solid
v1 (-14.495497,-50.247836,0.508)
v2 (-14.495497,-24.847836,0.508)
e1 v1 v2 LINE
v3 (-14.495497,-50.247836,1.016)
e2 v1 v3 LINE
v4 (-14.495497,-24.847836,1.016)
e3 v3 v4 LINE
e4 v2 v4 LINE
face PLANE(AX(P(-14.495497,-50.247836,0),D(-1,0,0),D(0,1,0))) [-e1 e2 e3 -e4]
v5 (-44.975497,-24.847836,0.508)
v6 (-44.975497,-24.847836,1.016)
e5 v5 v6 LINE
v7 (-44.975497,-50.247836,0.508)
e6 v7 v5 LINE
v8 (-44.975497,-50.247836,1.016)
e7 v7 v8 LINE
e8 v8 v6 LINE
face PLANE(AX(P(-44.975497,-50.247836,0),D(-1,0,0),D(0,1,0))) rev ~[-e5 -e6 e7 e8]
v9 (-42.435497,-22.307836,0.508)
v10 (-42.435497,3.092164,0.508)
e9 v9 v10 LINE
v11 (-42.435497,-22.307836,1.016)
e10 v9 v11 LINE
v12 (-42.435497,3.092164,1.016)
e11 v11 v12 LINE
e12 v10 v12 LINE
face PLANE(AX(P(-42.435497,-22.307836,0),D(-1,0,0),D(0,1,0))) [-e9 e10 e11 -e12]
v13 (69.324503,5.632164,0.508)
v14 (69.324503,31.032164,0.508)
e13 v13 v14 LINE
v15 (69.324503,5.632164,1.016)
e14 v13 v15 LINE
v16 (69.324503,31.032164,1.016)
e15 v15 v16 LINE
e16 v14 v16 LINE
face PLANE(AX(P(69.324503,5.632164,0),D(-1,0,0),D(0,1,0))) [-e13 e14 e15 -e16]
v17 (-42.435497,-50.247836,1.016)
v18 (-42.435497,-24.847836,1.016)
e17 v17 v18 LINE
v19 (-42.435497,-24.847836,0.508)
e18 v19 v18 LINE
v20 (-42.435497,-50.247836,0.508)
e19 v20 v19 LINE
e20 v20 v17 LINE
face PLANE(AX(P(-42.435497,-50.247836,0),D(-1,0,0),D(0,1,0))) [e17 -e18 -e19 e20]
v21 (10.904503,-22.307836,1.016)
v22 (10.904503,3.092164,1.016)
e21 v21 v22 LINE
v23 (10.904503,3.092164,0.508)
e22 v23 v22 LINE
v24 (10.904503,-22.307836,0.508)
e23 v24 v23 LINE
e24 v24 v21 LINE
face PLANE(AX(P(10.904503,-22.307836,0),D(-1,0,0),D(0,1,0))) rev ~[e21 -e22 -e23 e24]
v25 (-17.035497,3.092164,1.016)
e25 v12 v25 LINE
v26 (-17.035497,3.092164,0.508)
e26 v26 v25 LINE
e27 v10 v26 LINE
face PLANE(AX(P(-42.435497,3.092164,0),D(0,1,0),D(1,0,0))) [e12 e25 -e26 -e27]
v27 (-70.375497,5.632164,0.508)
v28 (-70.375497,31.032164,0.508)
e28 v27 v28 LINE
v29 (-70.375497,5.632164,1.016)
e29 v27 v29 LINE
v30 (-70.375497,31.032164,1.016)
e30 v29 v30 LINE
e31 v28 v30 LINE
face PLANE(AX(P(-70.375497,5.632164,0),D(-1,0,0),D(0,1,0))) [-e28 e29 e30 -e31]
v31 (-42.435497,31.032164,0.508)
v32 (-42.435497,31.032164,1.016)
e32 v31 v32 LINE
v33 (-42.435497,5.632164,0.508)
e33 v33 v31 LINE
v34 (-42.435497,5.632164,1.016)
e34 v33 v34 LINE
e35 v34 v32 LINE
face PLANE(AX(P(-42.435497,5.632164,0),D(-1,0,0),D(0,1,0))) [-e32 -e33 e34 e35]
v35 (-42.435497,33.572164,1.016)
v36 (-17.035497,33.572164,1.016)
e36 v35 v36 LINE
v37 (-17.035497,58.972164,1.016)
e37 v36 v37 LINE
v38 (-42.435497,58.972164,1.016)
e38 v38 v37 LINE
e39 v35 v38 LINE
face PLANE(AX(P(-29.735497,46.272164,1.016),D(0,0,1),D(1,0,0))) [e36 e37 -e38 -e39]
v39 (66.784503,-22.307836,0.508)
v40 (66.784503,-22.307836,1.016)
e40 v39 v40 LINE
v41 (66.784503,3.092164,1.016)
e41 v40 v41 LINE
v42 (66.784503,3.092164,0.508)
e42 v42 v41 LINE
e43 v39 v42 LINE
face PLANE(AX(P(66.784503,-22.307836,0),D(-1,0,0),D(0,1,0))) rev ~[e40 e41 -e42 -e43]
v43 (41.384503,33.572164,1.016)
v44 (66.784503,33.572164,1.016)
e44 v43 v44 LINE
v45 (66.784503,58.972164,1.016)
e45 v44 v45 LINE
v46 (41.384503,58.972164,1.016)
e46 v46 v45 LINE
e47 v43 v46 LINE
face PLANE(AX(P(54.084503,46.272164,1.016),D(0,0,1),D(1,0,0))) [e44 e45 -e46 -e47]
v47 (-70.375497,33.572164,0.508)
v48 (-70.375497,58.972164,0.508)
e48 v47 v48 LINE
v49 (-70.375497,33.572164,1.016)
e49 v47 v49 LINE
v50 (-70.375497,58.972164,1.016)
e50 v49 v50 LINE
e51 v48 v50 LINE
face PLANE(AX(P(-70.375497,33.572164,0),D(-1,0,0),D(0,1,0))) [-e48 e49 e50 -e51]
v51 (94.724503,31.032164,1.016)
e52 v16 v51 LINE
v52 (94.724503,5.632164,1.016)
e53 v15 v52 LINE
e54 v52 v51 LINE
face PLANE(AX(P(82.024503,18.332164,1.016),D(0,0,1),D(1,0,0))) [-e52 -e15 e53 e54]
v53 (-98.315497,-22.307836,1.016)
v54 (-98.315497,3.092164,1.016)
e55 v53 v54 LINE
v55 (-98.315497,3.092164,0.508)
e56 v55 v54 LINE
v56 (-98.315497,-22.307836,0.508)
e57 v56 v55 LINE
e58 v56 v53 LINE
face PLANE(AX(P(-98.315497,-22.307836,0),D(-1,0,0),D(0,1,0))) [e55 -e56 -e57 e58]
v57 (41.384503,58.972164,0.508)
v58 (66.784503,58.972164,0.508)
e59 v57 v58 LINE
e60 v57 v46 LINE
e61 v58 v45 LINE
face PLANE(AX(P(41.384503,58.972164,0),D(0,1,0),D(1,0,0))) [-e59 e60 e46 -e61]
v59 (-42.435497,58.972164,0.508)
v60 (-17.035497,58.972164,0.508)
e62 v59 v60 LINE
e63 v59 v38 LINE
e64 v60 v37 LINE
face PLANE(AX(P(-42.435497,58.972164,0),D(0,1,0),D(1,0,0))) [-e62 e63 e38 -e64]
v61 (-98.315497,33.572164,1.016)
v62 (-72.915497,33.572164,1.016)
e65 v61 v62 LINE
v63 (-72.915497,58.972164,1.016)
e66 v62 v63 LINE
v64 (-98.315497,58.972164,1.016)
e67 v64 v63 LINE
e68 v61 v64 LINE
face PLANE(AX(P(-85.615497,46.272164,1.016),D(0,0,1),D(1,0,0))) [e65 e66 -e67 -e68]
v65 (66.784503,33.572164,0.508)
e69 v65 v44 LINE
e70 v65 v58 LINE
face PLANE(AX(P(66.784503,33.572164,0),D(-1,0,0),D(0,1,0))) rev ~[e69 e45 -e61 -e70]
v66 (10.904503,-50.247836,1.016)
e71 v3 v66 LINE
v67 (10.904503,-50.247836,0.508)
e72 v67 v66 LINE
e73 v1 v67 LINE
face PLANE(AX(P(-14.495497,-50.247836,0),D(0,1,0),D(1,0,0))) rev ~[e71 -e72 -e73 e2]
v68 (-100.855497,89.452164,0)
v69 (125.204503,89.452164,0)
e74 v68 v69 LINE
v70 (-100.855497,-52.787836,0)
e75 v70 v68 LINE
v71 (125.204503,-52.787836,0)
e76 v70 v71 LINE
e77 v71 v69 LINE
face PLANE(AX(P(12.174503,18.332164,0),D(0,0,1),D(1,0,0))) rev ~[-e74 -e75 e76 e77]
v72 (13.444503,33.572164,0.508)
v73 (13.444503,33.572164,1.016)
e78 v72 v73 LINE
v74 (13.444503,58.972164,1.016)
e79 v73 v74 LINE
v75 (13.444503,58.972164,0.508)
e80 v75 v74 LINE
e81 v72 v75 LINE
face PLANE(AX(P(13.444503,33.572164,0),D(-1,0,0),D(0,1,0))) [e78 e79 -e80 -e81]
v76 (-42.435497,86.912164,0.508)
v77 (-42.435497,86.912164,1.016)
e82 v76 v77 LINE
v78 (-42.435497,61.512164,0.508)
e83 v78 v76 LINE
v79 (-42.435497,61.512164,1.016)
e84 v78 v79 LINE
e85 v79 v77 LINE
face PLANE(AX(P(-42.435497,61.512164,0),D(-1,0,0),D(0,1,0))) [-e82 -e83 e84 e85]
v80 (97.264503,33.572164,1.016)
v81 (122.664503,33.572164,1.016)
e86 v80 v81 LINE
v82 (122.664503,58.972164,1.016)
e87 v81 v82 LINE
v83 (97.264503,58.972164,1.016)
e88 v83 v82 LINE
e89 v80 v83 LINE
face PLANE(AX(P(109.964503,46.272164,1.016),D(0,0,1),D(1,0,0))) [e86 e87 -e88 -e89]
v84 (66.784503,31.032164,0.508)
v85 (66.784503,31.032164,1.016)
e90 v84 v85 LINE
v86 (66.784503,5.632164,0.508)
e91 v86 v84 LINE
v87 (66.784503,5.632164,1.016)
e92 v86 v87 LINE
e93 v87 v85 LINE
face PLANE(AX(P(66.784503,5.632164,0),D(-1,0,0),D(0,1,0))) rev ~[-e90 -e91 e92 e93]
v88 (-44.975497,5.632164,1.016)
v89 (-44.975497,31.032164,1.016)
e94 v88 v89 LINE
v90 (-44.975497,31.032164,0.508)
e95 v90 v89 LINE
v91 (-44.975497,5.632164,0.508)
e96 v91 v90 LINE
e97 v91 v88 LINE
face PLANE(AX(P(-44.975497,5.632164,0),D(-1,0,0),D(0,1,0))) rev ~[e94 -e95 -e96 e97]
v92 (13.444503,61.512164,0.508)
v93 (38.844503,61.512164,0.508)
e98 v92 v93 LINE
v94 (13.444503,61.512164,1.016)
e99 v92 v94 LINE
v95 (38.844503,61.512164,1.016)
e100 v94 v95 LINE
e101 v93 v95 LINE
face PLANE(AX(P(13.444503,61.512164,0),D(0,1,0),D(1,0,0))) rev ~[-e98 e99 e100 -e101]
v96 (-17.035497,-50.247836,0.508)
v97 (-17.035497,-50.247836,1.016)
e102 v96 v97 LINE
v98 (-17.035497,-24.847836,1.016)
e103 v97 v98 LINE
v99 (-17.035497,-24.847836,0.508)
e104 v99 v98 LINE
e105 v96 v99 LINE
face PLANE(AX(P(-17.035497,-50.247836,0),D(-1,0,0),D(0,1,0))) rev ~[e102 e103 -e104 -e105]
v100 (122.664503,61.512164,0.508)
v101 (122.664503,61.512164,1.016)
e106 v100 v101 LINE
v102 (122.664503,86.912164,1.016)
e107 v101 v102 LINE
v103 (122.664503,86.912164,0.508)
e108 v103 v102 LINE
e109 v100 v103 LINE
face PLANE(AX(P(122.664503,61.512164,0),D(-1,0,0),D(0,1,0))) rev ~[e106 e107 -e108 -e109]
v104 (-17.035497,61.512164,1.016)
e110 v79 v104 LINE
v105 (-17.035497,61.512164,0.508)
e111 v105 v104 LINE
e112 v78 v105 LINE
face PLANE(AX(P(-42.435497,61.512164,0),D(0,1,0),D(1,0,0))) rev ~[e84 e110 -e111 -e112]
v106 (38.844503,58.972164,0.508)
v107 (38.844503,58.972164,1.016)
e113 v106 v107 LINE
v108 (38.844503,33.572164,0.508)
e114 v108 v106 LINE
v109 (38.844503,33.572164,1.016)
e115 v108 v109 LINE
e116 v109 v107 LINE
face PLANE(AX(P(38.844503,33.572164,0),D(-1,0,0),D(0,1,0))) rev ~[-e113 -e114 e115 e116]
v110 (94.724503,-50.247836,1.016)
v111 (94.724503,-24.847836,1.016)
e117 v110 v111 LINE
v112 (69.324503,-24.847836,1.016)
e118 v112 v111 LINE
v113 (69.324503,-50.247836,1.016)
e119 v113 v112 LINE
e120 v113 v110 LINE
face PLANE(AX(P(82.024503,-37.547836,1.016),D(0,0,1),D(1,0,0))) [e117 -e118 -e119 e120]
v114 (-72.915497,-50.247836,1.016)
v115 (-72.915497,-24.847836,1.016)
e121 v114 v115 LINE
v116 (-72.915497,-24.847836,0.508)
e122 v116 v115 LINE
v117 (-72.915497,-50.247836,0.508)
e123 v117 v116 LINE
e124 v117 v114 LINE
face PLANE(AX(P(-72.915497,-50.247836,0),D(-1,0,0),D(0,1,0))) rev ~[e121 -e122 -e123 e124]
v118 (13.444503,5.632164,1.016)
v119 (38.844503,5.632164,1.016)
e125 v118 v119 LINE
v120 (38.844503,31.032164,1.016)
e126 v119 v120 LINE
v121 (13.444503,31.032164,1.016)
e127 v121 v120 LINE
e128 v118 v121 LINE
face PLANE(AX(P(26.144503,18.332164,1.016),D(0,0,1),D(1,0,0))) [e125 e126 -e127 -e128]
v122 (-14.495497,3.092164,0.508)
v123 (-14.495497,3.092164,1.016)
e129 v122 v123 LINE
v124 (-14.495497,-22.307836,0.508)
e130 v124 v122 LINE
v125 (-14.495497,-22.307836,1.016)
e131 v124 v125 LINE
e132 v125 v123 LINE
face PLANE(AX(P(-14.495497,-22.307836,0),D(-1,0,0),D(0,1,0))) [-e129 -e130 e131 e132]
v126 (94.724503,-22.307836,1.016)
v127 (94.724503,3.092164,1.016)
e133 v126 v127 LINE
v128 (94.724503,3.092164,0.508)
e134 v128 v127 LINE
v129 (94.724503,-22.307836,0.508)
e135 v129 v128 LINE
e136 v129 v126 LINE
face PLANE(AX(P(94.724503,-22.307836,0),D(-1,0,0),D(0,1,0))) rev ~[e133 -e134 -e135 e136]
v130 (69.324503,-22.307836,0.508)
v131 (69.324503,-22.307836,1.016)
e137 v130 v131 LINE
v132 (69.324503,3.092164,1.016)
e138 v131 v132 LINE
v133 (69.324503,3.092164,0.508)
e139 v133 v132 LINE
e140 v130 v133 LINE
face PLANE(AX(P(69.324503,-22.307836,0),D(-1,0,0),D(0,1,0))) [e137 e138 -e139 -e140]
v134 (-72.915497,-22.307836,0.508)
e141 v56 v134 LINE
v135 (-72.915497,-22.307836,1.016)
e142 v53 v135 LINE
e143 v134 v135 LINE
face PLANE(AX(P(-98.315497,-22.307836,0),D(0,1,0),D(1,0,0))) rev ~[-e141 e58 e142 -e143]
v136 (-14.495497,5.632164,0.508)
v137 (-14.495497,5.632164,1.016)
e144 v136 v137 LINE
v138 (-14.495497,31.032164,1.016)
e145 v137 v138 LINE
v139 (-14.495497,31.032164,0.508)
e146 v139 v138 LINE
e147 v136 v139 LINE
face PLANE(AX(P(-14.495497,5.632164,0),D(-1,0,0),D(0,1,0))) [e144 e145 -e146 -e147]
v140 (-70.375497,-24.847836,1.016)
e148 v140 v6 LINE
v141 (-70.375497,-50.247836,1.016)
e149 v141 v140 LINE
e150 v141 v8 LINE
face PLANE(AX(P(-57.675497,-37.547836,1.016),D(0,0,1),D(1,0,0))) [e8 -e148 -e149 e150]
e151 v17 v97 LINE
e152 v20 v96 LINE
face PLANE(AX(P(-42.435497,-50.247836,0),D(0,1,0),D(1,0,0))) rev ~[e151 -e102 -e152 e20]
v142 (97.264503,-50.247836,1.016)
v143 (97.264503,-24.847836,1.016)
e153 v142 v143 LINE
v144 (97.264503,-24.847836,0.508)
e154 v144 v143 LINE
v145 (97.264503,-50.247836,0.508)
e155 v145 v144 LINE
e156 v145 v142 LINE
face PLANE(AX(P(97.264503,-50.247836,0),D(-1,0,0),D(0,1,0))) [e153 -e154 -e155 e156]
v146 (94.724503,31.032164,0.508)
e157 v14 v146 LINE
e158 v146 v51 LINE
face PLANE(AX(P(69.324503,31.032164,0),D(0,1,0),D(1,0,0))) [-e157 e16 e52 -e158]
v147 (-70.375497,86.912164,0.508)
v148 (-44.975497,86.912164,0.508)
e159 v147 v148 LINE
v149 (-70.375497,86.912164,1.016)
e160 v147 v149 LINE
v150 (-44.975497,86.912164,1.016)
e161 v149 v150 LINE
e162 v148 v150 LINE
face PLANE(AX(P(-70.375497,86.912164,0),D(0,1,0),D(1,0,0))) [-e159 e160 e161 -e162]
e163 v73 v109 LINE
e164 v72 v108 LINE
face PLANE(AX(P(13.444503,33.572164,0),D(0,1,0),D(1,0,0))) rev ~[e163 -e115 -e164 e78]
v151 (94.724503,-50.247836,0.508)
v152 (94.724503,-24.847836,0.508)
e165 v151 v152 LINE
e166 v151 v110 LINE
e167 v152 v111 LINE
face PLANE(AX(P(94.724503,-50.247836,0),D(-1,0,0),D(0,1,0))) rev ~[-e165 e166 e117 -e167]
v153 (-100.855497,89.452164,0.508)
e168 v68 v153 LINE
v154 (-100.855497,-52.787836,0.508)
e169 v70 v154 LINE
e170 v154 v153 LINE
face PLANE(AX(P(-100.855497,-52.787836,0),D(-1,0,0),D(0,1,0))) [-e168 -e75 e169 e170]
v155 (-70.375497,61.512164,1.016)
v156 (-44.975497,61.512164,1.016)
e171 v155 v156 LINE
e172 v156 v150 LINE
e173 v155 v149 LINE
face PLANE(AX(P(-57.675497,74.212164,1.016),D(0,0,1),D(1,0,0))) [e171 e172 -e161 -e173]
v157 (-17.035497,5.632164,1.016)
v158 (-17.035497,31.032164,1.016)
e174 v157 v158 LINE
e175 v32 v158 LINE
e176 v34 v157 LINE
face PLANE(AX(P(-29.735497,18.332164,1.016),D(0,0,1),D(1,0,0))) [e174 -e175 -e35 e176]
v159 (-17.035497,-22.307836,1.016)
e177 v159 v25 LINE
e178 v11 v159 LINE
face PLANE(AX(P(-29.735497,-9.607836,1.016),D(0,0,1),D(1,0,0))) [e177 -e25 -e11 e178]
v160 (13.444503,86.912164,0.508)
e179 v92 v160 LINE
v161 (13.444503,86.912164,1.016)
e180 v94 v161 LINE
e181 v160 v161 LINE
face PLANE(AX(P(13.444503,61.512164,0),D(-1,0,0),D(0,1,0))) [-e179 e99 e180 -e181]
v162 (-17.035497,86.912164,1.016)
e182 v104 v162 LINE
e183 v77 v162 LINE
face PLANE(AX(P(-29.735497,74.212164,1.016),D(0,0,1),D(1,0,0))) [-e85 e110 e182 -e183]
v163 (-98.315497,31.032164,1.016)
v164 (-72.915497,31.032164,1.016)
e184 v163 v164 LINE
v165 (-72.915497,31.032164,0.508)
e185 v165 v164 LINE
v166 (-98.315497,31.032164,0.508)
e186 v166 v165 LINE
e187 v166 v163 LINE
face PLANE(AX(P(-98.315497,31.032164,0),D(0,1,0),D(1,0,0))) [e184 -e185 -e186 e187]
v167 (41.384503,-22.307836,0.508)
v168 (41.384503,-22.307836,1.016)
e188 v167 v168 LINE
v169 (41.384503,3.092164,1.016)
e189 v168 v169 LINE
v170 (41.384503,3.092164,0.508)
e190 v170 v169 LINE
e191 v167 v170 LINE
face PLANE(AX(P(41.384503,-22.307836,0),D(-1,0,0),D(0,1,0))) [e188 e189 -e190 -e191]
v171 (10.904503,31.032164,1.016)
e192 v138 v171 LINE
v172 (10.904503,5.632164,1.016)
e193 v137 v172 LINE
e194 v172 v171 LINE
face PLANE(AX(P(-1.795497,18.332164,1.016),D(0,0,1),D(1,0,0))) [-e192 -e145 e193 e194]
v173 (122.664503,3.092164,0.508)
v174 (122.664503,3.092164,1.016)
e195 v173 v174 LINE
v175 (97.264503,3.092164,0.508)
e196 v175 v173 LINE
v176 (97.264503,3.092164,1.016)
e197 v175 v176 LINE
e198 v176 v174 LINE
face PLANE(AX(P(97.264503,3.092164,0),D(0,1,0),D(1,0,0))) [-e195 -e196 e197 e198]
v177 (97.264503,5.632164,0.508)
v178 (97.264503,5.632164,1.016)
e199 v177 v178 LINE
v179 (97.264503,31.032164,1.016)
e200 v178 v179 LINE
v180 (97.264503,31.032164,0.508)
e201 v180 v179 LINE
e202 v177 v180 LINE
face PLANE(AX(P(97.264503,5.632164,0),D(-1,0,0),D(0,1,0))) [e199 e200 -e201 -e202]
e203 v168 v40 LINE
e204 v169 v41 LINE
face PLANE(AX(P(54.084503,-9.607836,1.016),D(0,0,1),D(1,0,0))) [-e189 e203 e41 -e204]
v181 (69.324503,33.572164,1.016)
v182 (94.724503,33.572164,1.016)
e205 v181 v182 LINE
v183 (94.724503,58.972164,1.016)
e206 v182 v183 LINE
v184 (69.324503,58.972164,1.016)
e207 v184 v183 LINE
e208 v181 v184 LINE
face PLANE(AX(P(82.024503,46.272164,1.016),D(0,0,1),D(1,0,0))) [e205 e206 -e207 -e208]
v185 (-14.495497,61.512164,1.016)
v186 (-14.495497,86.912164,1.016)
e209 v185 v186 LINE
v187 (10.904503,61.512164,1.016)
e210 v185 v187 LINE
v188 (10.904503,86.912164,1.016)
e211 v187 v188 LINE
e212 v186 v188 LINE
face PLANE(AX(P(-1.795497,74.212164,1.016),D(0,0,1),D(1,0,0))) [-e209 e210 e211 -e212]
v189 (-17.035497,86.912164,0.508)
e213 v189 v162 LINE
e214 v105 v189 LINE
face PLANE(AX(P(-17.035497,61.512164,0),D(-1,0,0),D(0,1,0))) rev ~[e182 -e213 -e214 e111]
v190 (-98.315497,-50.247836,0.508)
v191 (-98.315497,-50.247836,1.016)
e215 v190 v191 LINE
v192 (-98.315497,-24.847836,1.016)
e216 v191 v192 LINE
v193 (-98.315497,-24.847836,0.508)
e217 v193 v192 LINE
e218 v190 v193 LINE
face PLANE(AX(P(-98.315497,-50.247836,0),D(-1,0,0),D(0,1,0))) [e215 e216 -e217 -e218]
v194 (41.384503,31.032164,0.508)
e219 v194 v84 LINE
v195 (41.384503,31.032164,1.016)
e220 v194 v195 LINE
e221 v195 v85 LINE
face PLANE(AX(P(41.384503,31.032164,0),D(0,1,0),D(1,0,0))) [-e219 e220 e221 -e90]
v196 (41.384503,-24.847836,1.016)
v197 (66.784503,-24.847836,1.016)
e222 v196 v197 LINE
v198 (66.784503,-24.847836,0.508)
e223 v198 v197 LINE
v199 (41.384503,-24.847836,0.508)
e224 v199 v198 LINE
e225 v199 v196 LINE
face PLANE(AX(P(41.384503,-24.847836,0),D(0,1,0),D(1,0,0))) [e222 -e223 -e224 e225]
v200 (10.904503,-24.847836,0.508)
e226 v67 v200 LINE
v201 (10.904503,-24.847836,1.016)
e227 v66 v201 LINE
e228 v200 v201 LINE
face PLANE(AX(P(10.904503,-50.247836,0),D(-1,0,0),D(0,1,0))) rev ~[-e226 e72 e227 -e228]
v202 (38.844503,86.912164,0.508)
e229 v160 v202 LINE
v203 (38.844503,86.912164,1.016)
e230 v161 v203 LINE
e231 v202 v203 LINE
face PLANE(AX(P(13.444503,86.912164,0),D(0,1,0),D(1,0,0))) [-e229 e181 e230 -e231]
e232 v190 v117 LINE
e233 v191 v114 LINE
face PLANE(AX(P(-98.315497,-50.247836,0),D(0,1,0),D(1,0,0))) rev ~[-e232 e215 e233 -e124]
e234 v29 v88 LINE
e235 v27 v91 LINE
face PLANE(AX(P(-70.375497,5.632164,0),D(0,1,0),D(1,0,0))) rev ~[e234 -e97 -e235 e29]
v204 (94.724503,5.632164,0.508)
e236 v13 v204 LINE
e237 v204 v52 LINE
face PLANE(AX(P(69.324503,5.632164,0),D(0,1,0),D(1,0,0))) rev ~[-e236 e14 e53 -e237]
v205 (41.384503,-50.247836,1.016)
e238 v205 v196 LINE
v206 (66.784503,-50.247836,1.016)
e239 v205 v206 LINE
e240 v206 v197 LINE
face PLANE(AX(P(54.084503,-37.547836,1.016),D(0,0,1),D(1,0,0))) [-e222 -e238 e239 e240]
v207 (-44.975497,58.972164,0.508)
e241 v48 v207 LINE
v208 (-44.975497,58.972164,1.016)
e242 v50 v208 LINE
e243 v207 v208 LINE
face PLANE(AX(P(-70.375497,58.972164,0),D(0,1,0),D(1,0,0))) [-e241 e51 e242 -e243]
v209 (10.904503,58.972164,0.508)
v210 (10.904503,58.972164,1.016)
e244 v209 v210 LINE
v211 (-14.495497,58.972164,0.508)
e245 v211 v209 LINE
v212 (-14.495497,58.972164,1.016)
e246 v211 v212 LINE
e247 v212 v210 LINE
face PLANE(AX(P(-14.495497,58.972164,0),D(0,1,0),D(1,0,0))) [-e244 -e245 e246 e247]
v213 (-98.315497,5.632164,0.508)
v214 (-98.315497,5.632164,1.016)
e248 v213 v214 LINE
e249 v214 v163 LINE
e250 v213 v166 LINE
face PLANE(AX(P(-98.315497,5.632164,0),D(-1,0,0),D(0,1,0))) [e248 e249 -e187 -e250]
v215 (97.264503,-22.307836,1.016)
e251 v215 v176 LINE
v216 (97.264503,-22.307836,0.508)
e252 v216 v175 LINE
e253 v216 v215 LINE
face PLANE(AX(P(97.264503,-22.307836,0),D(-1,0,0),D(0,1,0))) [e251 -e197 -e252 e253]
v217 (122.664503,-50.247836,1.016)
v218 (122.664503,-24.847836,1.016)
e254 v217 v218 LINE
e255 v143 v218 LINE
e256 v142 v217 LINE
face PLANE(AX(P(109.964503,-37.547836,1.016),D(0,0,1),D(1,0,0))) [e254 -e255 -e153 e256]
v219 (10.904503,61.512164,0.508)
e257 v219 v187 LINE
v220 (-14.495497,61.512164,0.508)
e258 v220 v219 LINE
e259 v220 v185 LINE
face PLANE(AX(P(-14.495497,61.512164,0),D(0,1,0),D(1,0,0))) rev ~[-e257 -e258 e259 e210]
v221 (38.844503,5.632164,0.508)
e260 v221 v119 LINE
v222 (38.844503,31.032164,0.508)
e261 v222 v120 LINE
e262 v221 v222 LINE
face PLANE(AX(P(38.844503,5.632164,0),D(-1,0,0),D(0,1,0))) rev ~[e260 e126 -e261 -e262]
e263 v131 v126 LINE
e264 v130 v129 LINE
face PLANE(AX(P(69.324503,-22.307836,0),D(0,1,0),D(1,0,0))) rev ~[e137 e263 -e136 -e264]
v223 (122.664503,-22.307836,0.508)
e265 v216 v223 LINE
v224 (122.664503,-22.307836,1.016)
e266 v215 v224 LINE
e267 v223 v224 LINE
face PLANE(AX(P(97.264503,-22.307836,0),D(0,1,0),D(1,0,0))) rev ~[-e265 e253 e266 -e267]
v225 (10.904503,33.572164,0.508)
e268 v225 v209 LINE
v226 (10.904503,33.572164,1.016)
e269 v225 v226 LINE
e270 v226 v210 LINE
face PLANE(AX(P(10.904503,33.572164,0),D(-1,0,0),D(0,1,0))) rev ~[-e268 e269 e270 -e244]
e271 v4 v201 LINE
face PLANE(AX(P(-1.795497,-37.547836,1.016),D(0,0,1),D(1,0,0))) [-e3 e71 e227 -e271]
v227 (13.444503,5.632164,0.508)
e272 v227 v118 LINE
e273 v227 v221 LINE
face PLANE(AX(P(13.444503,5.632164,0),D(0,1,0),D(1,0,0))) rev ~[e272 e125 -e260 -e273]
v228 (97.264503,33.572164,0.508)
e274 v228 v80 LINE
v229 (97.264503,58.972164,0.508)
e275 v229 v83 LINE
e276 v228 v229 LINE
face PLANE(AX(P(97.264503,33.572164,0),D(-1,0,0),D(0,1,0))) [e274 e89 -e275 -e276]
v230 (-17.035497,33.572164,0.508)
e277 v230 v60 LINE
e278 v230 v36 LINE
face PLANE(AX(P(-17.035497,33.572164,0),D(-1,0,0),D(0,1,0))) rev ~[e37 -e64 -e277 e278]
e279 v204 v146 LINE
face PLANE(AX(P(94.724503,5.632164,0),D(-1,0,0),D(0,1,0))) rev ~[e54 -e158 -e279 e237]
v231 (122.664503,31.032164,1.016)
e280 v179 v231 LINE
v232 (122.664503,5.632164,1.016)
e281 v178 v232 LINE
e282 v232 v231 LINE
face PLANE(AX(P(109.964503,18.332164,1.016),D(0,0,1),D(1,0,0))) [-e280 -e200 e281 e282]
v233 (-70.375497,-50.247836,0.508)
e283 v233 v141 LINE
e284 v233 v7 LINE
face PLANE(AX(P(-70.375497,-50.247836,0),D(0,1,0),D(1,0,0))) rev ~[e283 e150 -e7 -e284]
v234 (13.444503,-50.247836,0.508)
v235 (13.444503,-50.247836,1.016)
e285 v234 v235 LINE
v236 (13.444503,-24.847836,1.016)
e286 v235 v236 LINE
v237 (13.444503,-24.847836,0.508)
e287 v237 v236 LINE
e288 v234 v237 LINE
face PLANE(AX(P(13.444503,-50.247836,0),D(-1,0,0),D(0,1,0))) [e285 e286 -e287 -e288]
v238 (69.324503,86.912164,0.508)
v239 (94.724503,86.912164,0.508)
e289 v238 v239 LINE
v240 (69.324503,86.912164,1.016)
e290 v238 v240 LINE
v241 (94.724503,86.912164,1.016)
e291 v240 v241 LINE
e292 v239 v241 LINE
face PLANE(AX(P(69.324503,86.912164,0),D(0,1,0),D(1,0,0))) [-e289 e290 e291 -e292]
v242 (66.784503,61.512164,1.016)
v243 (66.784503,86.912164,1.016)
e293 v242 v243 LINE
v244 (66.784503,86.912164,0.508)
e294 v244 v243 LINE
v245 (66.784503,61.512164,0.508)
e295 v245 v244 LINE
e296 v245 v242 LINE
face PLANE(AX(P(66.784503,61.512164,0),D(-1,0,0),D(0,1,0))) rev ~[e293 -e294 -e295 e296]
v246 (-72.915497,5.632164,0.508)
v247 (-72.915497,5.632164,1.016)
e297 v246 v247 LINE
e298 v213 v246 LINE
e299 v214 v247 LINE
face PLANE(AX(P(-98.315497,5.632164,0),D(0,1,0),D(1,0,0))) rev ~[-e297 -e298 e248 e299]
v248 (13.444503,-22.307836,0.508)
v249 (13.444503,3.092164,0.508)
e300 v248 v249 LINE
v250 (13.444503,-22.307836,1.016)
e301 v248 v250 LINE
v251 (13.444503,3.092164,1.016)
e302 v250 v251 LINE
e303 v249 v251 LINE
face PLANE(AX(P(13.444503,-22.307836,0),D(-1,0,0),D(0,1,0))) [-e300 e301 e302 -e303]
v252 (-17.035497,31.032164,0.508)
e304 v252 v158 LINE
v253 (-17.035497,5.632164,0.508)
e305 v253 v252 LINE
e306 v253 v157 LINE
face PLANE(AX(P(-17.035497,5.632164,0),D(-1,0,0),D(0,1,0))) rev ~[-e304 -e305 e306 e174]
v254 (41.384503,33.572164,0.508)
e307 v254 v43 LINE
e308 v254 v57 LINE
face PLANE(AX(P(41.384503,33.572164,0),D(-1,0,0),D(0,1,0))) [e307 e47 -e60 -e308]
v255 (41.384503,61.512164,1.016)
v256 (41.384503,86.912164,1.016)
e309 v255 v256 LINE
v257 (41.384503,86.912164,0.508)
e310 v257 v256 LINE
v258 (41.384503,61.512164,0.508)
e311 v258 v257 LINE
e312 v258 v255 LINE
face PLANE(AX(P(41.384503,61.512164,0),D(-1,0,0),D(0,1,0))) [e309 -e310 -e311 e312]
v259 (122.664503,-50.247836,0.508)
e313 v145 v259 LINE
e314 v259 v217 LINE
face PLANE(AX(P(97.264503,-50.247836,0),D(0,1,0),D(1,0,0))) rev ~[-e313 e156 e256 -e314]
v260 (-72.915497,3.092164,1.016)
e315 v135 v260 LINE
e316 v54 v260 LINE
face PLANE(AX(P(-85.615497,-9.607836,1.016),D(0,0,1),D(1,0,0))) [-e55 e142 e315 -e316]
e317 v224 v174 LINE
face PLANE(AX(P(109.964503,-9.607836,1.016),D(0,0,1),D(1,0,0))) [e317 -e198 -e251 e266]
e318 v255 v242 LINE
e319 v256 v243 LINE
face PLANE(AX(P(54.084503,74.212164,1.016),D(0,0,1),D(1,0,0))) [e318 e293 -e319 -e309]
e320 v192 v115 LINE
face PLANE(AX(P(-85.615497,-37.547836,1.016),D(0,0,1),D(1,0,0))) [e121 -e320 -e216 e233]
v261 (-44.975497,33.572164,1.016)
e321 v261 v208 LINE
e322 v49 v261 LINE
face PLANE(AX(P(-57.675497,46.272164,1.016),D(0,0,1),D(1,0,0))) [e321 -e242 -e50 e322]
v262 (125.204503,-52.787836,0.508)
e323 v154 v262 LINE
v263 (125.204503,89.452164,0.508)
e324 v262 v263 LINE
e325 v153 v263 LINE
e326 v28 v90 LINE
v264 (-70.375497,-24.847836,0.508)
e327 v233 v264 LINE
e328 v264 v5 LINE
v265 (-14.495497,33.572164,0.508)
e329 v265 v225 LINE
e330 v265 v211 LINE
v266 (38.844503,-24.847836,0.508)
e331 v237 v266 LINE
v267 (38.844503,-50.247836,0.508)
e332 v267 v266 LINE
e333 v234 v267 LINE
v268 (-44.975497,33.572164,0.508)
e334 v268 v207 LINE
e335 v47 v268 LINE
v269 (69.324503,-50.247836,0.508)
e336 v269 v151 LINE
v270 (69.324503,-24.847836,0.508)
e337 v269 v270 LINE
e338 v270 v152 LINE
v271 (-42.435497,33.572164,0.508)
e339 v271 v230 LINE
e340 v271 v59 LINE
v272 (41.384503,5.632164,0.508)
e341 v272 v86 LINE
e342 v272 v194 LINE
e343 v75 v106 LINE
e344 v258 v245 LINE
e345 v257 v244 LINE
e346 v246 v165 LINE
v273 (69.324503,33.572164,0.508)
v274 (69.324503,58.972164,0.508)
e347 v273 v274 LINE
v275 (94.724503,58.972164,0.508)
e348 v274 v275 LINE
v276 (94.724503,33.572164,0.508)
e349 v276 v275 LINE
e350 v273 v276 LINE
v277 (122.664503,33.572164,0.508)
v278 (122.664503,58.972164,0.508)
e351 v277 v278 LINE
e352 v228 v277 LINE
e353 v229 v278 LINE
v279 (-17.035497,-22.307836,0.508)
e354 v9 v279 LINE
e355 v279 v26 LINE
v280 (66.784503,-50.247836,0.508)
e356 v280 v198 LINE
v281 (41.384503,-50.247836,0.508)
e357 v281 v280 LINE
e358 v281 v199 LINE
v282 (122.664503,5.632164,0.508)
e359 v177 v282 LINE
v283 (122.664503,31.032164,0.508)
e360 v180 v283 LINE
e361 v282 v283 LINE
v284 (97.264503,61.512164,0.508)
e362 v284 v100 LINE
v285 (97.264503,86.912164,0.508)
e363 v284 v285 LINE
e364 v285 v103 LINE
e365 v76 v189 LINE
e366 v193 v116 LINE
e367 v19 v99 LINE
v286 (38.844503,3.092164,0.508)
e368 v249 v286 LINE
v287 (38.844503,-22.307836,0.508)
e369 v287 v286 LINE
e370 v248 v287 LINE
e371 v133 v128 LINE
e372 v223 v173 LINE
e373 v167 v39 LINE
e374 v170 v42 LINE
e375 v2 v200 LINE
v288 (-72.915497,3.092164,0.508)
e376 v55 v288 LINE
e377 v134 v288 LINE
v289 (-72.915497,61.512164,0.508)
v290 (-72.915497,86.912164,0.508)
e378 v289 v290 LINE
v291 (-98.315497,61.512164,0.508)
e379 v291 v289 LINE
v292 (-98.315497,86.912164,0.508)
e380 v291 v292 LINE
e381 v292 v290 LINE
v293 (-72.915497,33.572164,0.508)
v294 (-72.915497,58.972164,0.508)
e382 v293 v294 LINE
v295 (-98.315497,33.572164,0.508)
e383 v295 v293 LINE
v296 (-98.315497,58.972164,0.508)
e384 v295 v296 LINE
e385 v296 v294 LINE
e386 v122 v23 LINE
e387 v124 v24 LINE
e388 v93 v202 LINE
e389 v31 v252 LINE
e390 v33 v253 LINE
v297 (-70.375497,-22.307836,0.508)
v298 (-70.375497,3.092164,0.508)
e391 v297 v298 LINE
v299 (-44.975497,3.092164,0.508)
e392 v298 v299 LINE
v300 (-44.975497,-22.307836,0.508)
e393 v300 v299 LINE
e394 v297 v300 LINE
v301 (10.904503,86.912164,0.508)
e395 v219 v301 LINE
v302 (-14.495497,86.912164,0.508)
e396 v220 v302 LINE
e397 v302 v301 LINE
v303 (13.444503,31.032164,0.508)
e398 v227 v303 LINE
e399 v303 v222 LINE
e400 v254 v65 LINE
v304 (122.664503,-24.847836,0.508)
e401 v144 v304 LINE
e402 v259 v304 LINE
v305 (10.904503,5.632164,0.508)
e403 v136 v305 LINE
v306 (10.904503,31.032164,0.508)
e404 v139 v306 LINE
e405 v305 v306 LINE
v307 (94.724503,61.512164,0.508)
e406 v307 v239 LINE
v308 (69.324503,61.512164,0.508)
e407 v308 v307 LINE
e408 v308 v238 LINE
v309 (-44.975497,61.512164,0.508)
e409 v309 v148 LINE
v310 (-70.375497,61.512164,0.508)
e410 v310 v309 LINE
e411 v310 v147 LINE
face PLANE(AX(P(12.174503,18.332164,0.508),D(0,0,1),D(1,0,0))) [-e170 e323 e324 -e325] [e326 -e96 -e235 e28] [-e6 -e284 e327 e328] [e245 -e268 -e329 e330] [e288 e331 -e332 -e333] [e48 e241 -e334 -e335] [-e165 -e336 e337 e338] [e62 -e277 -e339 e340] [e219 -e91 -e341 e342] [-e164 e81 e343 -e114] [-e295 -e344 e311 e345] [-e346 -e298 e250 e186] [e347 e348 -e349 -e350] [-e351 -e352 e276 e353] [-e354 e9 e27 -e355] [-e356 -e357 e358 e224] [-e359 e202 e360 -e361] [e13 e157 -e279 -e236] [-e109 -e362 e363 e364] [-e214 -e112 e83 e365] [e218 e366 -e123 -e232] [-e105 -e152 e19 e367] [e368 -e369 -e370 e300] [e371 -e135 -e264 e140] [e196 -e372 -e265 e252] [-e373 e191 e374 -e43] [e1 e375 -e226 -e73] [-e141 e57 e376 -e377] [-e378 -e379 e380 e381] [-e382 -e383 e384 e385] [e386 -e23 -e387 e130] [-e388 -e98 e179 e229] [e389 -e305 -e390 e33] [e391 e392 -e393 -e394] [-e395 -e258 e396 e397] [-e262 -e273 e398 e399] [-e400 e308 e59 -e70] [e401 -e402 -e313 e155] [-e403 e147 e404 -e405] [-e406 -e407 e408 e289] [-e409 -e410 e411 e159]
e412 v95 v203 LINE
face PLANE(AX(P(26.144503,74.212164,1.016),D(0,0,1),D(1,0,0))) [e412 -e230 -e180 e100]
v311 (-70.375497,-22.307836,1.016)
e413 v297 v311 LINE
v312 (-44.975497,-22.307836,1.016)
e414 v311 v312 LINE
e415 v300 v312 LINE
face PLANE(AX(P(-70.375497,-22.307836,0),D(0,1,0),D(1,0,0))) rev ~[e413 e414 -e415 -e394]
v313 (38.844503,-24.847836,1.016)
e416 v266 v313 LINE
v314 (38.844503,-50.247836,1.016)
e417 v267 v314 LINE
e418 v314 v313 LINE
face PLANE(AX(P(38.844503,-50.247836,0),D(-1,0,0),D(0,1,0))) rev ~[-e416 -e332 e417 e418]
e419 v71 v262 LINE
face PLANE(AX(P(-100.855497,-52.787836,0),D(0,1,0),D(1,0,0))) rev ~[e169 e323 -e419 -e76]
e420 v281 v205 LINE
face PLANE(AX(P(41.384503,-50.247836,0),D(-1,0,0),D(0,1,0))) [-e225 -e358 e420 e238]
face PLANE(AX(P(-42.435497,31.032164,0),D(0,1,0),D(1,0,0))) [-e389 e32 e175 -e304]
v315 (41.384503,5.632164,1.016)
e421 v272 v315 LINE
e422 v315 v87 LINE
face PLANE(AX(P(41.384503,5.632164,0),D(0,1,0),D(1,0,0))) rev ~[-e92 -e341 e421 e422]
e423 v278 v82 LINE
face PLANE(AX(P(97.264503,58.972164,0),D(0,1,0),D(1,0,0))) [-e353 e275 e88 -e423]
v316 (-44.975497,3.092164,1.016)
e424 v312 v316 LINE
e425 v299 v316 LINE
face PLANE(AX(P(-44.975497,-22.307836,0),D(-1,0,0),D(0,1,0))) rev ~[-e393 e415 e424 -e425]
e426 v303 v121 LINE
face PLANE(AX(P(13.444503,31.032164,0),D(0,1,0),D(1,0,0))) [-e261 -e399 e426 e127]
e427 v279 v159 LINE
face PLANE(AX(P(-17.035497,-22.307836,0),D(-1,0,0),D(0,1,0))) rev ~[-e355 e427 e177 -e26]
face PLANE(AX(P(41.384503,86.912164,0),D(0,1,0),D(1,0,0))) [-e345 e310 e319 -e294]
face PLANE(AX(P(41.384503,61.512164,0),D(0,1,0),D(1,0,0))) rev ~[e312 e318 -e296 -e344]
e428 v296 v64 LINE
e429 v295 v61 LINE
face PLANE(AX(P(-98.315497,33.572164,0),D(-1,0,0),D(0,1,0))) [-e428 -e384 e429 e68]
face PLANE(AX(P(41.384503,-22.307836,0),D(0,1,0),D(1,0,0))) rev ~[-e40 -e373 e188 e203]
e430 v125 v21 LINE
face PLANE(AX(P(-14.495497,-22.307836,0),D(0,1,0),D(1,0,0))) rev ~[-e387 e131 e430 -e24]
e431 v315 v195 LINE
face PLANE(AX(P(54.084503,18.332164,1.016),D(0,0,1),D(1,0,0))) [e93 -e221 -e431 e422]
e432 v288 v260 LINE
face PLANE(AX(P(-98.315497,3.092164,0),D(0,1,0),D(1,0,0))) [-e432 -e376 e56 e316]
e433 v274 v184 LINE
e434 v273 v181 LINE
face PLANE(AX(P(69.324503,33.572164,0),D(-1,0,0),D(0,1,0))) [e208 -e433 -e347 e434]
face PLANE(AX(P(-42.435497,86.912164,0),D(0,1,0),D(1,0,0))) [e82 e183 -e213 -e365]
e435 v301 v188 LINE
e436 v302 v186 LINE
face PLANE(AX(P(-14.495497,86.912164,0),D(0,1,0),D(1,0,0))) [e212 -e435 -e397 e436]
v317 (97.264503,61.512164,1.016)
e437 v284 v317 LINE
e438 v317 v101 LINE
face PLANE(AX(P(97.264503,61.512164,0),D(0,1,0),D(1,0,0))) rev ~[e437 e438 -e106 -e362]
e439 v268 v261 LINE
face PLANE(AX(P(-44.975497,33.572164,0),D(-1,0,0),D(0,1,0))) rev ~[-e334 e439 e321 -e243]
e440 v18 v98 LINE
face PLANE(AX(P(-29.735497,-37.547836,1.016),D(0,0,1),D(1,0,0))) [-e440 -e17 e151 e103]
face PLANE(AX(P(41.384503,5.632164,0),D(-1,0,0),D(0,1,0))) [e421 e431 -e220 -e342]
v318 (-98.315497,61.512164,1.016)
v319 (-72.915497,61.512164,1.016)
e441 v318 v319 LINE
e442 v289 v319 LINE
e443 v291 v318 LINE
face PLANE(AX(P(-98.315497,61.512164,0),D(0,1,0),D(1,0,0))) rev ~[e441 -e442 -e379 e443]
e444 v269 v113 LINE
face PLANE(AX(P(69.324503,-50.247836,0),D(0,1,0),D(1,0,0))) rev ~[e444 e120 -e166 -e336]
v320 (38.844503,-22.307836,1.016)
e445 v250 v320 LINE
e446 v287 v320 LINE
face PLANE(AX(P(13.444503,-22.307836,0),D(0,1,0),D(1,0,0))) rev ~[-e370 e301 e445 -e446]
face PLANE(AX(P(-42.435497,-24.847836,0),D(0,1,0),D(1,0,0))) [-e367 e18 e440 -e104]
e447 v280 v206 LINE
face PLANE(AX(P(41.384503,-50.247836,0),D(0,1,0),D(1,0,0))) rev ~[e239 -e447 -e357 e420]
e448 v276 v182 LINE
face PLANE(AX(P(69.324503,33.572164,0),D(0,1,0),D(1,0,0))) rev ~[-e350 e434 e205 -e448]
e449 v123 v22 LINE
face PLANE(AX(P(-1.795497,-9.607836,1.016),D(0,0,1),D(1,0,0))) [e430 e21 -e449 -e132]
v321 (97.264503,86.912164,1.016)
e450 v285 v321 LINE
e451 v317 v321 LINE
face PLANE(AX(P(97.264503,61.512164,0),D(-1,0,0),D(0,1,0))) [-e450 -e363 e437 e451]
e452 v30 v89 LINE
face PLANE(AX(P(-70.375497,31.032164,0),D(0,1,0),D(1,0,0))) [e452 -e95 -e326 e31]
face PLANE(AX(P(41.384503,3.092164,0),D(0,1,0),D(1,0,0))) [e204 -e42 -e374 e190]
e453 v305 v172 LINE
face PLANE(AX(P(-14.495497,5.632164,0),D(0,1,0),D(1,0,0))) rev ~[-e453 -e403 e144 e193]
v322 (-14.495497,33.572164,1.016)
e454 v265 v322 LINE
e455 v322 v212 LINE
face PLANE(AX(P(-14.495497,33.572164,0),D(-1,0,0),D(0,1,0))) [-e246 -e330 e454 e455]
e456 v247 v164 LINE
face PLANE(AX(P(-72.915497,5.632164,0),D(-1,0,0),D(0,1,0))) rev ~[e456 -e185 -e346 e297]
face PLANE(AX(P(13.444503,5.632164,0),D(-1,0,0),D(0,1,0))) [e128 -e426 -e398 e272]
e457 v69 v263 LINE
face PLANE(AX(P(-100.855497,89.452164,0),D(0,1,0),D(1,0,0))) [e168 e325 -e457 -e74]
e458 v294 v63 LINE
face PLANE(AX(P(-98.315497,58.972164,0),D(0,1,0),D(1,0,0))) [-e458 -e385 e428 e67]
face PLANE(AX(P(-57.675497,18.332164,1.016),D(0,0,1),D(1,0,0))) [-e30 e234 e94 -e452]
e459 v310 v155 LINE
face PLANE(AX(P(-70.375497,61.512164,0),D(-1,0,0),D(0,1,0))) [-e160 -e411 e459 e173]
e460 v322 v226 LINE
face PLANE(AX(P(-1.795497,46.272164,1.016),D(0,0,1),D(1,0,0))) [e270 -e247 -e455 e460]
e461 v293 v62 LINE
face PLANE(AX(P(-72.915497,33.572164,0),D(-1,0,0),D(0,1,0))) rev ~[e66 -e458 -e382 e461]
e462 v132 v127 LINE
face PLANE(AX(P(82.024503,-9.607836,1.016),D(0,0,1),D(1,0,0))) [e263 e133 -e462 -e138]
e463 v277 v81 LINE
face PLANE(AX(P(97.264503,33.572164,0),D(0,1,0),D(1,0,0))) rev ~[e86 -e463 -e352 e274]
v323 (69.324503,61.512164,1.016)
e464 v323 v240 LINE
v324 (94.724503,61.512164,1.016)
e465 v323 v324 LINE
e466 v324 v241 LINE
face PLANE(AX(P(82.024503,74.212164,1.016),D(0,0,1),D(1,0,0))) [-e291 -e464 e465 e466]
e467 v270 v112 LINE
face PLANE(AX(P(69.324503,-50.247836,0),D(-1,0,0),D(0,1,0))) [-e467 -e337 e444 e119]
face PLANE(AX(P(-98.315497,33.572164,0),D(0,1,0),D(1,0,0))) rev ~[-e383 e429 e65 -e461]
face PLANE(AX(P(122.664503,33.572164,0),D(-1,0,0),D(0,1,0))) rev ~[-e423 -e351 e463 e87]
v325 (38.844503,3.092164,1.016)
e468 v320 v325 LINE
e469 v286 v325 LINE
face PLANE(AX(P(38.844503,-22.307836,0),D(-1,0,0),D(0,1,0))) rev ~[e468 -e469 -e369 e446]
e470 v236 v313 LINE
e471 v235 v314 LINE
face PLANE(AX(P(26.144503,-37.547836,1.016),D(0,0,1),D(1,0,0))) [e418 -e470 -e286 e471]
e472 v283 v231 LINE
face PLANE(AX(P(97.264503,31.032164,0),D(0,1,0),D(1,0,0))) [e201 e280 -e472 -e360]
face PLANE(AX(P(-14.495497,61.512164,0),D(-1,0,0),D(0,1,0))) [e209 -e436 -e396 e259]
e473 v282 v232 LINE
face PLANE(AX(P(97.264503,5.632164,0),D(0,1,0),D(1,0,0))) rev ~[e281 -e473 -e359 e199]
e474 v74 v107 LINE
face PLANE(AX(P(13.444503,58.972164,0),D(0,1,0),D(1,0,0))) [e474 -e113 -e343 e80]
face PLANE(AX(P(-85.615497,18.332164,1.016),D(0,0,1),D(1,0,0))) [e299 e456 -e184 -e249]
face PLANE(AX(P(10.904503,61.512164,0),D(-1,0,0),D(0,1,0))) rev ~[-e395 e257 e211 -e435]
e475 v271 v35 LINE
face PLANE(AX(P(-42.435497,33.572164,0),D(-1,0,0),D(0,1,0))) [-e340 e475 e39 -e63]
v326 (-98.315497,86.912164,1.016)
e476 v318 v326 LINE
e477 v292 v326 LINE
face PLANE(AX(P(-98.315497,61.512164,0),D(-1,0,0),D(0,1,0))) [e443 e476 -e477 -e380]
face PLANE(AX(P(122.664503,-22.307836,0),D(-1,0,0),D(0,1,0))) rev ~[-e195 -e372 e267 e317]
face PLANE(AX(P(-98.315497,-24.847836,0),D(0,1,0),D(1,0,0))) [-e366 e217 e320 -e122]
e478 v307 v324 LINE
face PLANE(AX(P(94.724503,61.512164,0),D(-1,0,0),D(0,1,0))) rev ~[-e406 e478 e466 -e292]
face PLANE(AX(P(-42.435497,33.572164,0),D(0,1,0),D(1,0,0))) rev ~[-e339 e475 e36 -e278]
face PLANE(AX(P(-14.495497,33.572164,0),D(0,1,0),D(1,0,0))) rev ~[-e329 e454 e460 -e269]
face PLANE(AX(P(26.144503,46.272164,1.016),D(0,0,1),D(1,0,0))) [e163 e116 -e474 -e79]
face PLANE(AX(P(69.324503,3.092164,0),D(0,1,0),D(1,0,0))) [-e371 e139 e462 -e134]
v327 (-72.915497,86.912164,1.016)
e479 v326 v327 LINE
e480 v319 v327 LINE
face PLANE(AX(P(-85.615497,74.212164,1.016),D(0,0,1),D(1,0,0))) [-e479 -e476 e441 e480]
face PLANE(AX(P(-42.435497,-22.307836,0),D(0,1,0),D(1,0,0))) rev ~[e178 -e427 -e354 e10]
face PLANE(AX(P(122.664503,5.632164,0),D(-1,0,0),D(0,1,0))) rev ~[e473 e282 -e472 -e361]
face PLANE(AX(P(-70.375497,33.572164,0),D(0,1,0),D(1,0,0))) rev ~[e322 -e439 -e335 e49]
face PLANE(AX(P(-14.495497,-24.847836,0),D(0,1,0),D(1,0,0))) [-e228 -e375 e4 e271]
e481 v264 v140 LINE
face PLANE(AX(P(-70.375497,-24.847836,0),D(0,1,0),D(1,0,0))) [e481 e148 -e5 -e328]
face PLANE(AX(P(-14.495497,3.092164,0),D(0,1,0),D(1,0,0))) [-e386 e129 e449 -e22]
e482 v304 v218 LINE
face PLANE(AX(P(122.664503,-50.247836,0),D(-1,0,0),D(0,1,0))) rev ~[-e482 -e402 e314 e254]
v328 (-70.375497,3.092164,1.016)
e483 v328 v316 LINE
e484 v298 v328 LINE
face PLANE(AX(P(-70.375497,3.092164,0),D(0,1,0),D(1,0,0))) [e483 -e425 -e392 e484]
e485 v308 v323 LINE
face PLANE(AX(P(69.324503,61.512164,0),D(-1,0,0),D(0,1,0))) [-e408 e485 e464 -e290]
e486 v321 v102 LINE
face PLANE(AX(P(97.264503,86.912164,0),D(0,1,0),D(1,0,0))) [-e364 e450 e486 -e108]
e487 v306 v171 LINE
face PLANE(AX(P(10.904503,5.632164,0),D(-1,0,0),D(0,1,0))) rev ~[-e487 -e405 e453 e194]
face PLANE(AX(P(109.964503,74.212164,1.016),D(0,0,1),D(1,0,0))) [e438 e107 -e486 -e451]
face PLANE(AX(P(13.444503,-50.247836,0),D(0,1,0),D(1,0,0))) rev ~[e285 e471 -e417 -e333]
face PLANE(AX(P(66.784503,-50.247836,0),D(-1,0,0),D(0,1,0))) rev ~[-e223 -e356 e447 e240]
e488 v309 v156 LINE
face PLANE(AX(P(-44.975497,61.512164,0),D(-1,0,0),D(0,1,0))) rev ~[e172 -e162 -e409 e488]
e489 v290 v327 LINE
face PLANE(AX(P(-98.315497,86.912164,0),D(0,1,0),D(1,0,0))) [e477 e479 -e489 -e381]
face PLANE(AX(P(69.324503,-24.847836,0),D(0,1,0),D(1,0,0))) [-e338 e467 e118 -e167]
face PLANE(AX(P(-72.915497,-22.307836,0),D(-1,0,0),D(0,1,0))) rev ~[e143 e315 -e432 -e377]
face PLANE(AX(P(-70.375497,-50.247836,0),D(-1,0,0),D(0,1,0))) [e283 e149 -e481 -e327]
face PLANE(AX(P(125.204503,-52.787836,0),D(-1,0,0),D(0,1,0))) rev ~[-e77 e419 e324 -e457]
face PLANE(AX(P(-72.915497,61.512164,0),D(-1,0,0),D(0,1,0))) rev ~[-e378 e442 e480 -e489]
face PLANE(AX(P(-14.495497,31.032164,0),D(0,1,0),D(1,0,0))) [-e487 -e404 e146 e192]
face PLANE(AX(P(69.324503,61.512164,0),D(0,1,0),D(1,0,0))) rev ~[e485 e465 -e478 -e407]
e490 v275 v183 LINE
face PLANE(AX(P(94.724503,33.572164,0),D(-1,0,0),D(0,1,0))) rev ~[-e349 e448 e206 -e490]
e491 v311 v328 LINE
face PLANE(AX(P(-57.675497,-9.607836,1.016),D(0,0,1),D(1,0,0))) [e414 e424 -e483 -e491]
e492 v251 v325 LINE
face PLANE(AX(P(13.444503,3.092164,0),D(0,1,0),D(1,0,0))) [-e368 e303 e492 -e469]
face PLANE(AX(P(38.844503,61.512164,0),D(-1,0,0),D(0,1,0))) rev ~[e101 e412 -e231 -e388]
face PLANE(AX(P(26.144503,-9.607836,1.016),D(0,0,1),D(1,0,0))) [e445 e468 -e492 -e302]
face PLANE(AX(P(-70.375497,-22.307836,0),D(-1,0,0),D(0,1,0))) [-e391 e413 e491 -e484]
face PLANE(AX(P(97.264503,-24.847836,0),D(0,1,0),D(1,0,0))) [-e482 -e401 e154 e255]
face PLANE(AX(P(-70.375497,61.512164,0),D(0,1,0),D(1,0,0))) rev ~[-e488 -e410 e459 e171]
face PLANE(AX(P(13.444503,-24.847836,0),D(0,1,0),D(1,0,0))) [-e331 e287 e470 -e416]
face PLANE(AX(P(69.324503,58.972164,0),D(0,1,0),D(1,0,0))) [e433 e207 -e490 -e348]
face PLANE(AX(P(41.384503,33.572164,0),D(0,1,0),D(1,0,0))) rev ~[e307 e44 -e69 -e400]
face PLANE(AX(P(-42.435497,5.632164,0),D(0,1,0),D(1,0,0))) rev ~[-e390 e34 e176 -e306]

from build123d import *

# Parameters (mm, degrees)
F0_W     = 226.06
F0_H     = 142.24
F0_W_2   = 25.4
F0_H_2   = 25.4
F1_DEPTH = 0.508
F2_DEPTH = 1.016


with BuildPart() as f1:
    # F0 (on Top) → F1 (new body)
    with BuildSketch(Plane.XY):
        with Locations((12.174503, 18.332164)):
            Rectangle(F0_W, F0_H)
        with Locations((-85.615497, -37.547836)):
            Rectangle(F0_W_2, F0_H_2, mode=Mode.SUBTRACT)
        with Locations((-57.675497, -37.547836)):
            Rectangle(F0_W_2, F0_H_2, mode=Mode.SUBTRACT)
        with Locations((-29.735497, -37.547836)):
            Rectangle(F0_W_2, F0_H_2, mode=Mode.SUBTRACT)
        with Locations((-1.795497, -37.547836)):
            Rectangle(F0_W_2, F0_H_2, mode=Mode.SUBTRACT)
        with Locations((-85.615497, -9.607836)):
            Rectangle(F0_W_2, F0_H_2, mode=Mode.SUBTRACT)
        with Locations((-57.675497, -9.607836)):
            Rectangle(F0_W_2, F0_H_2, mode=Mode.SUBTRACT)
        with Locations((-85.615497, 18.332164)):
            Rectangle(F0_W_2, F0_H_2, mode=Mode.SUBTRACT)
        with Locations((-57.675497, 18.332164)):
            Rectangle(F0_W_2, F0_H_2, mode=Mode.SUBTRACT)
        with Locations((-29.735497, -9.607836)):
            Rectangle(F0_W_2, F0_H_2, mode=Mode.SUBTRACT)
        with Locations((-1.795497, -9.607836)):
            Rectangle(F0_W_2, F0_H_2, mode=Mode.SUBTRACT)
        with Locations((-29.735497, 18.332164)):
            Rectangle(F0_W_2, F0_H_2, mode=Mode.SUBTRACT)
        with Locations((-1.795497, 18.332164)):
            Rectangle(F0_W_2, F0_H_2, mode=Mode.SUBTRACT)
        with Locations((26.144503, -37.547836)):
            Rectangle(F0_W_2, F0_H_2, mode=Mode.SUBTRACT)
        with Locations((54.084503, -37.547836)):
            Rectangle(F0_W_2, F0_H_2, mode=Mode.SUBTRACT)
        with Locations((82.024503, -37.547836)):
            Rectangle(F0_W_2, F0_H_2, mode=Mode.SUBTRACT)
        with Locations((109.964503, -37.547836)):
            Rectangle(F0_W_2, F0_H_2, mode=Mode.SUBTRACT)
        with Locations((26.144503, -9.607836)):
            Rectangle(F0_W_2, F0_H_2, mode=Mode.SUBTRACT)
        with Locations((54.084503, -9.607836)):
            Rectangle(F0_W_2, F0_H_2, mode=Mode.SUBTRACT)
        with Locations((26.144503, 18.332164)):
            Rectangle(F0_W_2, F0_H_2, mode=Mode.SUBTRACT)
        with Locations((54.084503, 18.332164)):
            Rectangle(F0_W_2, F0_H_2, mode=Mode.SUBTRACT)
        with Locations((82.024503, -9.607836)):
            Rectangle(F0_W_2, F0_H_2, mode=Mode.SUBTRACT)
        with Locations((109.964503, -9.607836)):
            Rectangle(F0_W_2, F0_H_2, mode=Mode.SUBTRACT)
        with Locations((82.024503, 18.332164)):
            Rectangle(F0_W_2, F0_H_2, mode=Mode.SUBTRACT)
        with Locations((109.964503, 18.332164)):
            Rectangle(F0_W_2, F0_H_2, mode=Mode.SUBTRACT)
        with Locations((-85.615497, 46.272164)):
            Rectangle(F0_W_2, F0_H_2, mode=Mode.SUBTRACT)
        with Locations((-57.675497, 46.272164)):
            Rectangle(F0_W_2, F0_H_2, mode=Mode.SUBTRACT)
        with Locations((-29.735497, 46.272164)):
            Rectangle(F0_W_2, F0_H_2, mode=Mode.SUBTRACT)
        with Locations((-1.795497, 46.272164)):
            Rectangle(F0_W_2, F0_H_2, mode=Mode.SUBTRACT)
        with Locations((-85.615497, 74.212164)):
            Rectangle(F0_W_2, F0_H_2, mode=Mode.SUBTRACT)
        with Locations((-57.675497, 74.212164)):
            Rectangle(F0_W_2, F0_H_2, mode=Mode.SUBTRACT)
        with Locations((-29.735497, 74.212164)):
            Rectangle(F0_W_2, F0_H_2, mode=Mode.SUBTRACT)
        with Locations((-1.795497, 74.212164)):
            Rectangle(F0_W_2, F0_H_2, mode=Mode.SUBTRACT)
        with Locations((26.144503, 46.272164)):
            Rectangle(F0_W_2, F0_H_2, mode=Mode.SUBTRACT)
        with Locations((54.084503, 46.272164)):
            Rectangle(F0_W_2, F0_H_2, mode=Mode.SUBTRACT)
        with Locations((82.024503, 46.272164)):
            Rectangle(F0_W_2, F0_H_2, mode=Mode.SUBTRACT)
        with Locations((109.964503, 46.272164)):
            Rectangle(F0_W_2, F0_H_2, mode=Mode.SUBTRACT)
        with Locations((26.144503, 74.212164)):
            Rectangle(F0_W_2, F0_H_2, mode=Mode.SUBTRACT)
        with Locations((54.084503, 74.212164)):
            Rectangle(F0_W_2, F0_H_2, mode=Mode.SUBTRACT)
        with Locations((82.024503, 74.212164)):
            Rectangle(F0_W_2, F0_H_2, mode=Mode.SUBTRACT)
        with Locations((109.964503, 74.212164)):
            Rectangle(F0_W_2, F0_H_2, mode=Mode.SUBTRACT)
    extrude(amount=F1_DEPTH)

    # F0 (on Top) → F2 (join)
    with BuildSketch(Plane.XY):
        with Locations((-85.615497, 18.332164)):
            Rectangle(F0_W_2, F0_H_2)
        with Locations((-57.675497, 18.332164)):
            Rectangle(F0_W_2, F0_H_2)
        with Locations((-57.675497, 46.272164)):
            Rectangle(F0_W_2, F0_H_2)
        with Locations((-85.615497, 46.272164)):
            Rectangle(F0_W_2, F0_H_2)
        with Locations((-85.615497, 74.212164)):
            Rectangle(F0_W_2, F0_H_2)
        with Locations((-57.675497, 74.212164)):
            Rectangle(F0_W_2, F0_H_2)
        with Locations((-85.615497, -9.607836)):
            Rectangle(F0_W_2, F0_H_2)
        with Locations((-57.675497, -9.607836)):
            Rectangle(F0_W_2, F0_H_2)
        with Locations((-57.675497, -37.547836)):
            Rectangle(F0_W_2, F0_H_2)
        with Locations((-85.615497, -37.547836)):
            Rectangle(F0_W_2, F0_H_2)
        with Locations((-29.735497, -37.547836)):
            Rectangle(F0_W_2, F0_H_2)
        with Locations((-29.735497, -9.607836)):
            Rectangle(F0_W_2, F0_H_2)
        with Locations((-29.735497, 18.332164)):
            Rectangle(F0_W_2, F0_H_2)
        with Locations((-29.735497, 46.272164)):
            Rectangle(F0_W_2, F0_H_2)
        with Locations((-29.735497, 74.212164)):
            Rectangle(F0_W_2, F0_H_2)
        with Locations((-1.795497, 74.212164)):
            Rectangle(F0_W_2, F0_H_2)
        with Locations((-1.795497, 46.272164)):
            Rectangle(F0_W_2, F0_H_2)
        with Locations((-1.795497, 18.332164)):
            Rectangle(F0_W_2, F0_H_2)
        with Locations((-1.795497, -9.607836)):
            Rectangle(F0_W_2, F0_H_2)
        with Locations((-1.795497, -37.547836)):
            Rectangle(F0_W_2, F0_H_2)
        with Locations((26.144503, -37.547836)):
            Rectangle(F0_W_2, F0_H_2)
        with Locations((26.144503, -9.607836)):
            Rectangle(F0_W_2, F0_H_2)
        with Locations((26.144503, 18.332164)):
            Rectangle(F0_W_2, F0_H_2)
        with Locations((26.144503, 46.272164)):
            Rectangle(F0_W_2, F0_H_2)
        with Locations((26.144503, 74.212164)):
            Rectangle(F0_W_2, F0_H_2)
        with Locations((54.084503, 74.212164)):
            Rectangle(F0_W_2, F0_H_2)
        with Locations((54.084503, 46.272164)):
            Rectangle(F0_W_2, F0_H_2)
        with Locations((54.084503, 18.332164)):
            Rectangle(F0_W_2, F0_H_2)
        with Locations((54.084503, -9.607836)):
            Rectangle(F0_W_2, F0_H_2)
        with Locations((54.084503, -37.547836)):
            Rectangle(F0_W_2, F0_H_2)
        with Locations((82.024503, -37.547836)):
            Rectangle(F0_W_2, F0_H_2)
        with Locations((82.024503, -9.607836)):
            Rectangle(F0_W_2, F0_H_2)
        with Locations((82.024503, 18.332164)):
            Rectangle(F0_W_2, F0_H_2)
        with Locations((82.024503, 46.272164)):
            Rectangle(F0_W_2, F0_H_2)
        with Locations((82.024503, 74.212164)):
            Rectangle(F0_W_2, F0_H_2)
        with Locations((109.964503, 74.212164)):
            Rectangle(F0_W_2, F0_H_2)
        with Locations((109.964503, 46.272164)):
            Rectangle(F0_W_2, F0_H_2)
        with Locations((109.964503, 18.332164)):
            Rectangle(F0_W_2, F0_H_2)
        with Locations((109.964503, -9.607836)):
            Rectangle(F0_W_2, F0_H_2)
        with Locations((109.964503, -37.547836)):
            Rectangle(F0_W_2, F0_H_2)
    extrude(amount=F2_DEPTH)


solid = f1.part
